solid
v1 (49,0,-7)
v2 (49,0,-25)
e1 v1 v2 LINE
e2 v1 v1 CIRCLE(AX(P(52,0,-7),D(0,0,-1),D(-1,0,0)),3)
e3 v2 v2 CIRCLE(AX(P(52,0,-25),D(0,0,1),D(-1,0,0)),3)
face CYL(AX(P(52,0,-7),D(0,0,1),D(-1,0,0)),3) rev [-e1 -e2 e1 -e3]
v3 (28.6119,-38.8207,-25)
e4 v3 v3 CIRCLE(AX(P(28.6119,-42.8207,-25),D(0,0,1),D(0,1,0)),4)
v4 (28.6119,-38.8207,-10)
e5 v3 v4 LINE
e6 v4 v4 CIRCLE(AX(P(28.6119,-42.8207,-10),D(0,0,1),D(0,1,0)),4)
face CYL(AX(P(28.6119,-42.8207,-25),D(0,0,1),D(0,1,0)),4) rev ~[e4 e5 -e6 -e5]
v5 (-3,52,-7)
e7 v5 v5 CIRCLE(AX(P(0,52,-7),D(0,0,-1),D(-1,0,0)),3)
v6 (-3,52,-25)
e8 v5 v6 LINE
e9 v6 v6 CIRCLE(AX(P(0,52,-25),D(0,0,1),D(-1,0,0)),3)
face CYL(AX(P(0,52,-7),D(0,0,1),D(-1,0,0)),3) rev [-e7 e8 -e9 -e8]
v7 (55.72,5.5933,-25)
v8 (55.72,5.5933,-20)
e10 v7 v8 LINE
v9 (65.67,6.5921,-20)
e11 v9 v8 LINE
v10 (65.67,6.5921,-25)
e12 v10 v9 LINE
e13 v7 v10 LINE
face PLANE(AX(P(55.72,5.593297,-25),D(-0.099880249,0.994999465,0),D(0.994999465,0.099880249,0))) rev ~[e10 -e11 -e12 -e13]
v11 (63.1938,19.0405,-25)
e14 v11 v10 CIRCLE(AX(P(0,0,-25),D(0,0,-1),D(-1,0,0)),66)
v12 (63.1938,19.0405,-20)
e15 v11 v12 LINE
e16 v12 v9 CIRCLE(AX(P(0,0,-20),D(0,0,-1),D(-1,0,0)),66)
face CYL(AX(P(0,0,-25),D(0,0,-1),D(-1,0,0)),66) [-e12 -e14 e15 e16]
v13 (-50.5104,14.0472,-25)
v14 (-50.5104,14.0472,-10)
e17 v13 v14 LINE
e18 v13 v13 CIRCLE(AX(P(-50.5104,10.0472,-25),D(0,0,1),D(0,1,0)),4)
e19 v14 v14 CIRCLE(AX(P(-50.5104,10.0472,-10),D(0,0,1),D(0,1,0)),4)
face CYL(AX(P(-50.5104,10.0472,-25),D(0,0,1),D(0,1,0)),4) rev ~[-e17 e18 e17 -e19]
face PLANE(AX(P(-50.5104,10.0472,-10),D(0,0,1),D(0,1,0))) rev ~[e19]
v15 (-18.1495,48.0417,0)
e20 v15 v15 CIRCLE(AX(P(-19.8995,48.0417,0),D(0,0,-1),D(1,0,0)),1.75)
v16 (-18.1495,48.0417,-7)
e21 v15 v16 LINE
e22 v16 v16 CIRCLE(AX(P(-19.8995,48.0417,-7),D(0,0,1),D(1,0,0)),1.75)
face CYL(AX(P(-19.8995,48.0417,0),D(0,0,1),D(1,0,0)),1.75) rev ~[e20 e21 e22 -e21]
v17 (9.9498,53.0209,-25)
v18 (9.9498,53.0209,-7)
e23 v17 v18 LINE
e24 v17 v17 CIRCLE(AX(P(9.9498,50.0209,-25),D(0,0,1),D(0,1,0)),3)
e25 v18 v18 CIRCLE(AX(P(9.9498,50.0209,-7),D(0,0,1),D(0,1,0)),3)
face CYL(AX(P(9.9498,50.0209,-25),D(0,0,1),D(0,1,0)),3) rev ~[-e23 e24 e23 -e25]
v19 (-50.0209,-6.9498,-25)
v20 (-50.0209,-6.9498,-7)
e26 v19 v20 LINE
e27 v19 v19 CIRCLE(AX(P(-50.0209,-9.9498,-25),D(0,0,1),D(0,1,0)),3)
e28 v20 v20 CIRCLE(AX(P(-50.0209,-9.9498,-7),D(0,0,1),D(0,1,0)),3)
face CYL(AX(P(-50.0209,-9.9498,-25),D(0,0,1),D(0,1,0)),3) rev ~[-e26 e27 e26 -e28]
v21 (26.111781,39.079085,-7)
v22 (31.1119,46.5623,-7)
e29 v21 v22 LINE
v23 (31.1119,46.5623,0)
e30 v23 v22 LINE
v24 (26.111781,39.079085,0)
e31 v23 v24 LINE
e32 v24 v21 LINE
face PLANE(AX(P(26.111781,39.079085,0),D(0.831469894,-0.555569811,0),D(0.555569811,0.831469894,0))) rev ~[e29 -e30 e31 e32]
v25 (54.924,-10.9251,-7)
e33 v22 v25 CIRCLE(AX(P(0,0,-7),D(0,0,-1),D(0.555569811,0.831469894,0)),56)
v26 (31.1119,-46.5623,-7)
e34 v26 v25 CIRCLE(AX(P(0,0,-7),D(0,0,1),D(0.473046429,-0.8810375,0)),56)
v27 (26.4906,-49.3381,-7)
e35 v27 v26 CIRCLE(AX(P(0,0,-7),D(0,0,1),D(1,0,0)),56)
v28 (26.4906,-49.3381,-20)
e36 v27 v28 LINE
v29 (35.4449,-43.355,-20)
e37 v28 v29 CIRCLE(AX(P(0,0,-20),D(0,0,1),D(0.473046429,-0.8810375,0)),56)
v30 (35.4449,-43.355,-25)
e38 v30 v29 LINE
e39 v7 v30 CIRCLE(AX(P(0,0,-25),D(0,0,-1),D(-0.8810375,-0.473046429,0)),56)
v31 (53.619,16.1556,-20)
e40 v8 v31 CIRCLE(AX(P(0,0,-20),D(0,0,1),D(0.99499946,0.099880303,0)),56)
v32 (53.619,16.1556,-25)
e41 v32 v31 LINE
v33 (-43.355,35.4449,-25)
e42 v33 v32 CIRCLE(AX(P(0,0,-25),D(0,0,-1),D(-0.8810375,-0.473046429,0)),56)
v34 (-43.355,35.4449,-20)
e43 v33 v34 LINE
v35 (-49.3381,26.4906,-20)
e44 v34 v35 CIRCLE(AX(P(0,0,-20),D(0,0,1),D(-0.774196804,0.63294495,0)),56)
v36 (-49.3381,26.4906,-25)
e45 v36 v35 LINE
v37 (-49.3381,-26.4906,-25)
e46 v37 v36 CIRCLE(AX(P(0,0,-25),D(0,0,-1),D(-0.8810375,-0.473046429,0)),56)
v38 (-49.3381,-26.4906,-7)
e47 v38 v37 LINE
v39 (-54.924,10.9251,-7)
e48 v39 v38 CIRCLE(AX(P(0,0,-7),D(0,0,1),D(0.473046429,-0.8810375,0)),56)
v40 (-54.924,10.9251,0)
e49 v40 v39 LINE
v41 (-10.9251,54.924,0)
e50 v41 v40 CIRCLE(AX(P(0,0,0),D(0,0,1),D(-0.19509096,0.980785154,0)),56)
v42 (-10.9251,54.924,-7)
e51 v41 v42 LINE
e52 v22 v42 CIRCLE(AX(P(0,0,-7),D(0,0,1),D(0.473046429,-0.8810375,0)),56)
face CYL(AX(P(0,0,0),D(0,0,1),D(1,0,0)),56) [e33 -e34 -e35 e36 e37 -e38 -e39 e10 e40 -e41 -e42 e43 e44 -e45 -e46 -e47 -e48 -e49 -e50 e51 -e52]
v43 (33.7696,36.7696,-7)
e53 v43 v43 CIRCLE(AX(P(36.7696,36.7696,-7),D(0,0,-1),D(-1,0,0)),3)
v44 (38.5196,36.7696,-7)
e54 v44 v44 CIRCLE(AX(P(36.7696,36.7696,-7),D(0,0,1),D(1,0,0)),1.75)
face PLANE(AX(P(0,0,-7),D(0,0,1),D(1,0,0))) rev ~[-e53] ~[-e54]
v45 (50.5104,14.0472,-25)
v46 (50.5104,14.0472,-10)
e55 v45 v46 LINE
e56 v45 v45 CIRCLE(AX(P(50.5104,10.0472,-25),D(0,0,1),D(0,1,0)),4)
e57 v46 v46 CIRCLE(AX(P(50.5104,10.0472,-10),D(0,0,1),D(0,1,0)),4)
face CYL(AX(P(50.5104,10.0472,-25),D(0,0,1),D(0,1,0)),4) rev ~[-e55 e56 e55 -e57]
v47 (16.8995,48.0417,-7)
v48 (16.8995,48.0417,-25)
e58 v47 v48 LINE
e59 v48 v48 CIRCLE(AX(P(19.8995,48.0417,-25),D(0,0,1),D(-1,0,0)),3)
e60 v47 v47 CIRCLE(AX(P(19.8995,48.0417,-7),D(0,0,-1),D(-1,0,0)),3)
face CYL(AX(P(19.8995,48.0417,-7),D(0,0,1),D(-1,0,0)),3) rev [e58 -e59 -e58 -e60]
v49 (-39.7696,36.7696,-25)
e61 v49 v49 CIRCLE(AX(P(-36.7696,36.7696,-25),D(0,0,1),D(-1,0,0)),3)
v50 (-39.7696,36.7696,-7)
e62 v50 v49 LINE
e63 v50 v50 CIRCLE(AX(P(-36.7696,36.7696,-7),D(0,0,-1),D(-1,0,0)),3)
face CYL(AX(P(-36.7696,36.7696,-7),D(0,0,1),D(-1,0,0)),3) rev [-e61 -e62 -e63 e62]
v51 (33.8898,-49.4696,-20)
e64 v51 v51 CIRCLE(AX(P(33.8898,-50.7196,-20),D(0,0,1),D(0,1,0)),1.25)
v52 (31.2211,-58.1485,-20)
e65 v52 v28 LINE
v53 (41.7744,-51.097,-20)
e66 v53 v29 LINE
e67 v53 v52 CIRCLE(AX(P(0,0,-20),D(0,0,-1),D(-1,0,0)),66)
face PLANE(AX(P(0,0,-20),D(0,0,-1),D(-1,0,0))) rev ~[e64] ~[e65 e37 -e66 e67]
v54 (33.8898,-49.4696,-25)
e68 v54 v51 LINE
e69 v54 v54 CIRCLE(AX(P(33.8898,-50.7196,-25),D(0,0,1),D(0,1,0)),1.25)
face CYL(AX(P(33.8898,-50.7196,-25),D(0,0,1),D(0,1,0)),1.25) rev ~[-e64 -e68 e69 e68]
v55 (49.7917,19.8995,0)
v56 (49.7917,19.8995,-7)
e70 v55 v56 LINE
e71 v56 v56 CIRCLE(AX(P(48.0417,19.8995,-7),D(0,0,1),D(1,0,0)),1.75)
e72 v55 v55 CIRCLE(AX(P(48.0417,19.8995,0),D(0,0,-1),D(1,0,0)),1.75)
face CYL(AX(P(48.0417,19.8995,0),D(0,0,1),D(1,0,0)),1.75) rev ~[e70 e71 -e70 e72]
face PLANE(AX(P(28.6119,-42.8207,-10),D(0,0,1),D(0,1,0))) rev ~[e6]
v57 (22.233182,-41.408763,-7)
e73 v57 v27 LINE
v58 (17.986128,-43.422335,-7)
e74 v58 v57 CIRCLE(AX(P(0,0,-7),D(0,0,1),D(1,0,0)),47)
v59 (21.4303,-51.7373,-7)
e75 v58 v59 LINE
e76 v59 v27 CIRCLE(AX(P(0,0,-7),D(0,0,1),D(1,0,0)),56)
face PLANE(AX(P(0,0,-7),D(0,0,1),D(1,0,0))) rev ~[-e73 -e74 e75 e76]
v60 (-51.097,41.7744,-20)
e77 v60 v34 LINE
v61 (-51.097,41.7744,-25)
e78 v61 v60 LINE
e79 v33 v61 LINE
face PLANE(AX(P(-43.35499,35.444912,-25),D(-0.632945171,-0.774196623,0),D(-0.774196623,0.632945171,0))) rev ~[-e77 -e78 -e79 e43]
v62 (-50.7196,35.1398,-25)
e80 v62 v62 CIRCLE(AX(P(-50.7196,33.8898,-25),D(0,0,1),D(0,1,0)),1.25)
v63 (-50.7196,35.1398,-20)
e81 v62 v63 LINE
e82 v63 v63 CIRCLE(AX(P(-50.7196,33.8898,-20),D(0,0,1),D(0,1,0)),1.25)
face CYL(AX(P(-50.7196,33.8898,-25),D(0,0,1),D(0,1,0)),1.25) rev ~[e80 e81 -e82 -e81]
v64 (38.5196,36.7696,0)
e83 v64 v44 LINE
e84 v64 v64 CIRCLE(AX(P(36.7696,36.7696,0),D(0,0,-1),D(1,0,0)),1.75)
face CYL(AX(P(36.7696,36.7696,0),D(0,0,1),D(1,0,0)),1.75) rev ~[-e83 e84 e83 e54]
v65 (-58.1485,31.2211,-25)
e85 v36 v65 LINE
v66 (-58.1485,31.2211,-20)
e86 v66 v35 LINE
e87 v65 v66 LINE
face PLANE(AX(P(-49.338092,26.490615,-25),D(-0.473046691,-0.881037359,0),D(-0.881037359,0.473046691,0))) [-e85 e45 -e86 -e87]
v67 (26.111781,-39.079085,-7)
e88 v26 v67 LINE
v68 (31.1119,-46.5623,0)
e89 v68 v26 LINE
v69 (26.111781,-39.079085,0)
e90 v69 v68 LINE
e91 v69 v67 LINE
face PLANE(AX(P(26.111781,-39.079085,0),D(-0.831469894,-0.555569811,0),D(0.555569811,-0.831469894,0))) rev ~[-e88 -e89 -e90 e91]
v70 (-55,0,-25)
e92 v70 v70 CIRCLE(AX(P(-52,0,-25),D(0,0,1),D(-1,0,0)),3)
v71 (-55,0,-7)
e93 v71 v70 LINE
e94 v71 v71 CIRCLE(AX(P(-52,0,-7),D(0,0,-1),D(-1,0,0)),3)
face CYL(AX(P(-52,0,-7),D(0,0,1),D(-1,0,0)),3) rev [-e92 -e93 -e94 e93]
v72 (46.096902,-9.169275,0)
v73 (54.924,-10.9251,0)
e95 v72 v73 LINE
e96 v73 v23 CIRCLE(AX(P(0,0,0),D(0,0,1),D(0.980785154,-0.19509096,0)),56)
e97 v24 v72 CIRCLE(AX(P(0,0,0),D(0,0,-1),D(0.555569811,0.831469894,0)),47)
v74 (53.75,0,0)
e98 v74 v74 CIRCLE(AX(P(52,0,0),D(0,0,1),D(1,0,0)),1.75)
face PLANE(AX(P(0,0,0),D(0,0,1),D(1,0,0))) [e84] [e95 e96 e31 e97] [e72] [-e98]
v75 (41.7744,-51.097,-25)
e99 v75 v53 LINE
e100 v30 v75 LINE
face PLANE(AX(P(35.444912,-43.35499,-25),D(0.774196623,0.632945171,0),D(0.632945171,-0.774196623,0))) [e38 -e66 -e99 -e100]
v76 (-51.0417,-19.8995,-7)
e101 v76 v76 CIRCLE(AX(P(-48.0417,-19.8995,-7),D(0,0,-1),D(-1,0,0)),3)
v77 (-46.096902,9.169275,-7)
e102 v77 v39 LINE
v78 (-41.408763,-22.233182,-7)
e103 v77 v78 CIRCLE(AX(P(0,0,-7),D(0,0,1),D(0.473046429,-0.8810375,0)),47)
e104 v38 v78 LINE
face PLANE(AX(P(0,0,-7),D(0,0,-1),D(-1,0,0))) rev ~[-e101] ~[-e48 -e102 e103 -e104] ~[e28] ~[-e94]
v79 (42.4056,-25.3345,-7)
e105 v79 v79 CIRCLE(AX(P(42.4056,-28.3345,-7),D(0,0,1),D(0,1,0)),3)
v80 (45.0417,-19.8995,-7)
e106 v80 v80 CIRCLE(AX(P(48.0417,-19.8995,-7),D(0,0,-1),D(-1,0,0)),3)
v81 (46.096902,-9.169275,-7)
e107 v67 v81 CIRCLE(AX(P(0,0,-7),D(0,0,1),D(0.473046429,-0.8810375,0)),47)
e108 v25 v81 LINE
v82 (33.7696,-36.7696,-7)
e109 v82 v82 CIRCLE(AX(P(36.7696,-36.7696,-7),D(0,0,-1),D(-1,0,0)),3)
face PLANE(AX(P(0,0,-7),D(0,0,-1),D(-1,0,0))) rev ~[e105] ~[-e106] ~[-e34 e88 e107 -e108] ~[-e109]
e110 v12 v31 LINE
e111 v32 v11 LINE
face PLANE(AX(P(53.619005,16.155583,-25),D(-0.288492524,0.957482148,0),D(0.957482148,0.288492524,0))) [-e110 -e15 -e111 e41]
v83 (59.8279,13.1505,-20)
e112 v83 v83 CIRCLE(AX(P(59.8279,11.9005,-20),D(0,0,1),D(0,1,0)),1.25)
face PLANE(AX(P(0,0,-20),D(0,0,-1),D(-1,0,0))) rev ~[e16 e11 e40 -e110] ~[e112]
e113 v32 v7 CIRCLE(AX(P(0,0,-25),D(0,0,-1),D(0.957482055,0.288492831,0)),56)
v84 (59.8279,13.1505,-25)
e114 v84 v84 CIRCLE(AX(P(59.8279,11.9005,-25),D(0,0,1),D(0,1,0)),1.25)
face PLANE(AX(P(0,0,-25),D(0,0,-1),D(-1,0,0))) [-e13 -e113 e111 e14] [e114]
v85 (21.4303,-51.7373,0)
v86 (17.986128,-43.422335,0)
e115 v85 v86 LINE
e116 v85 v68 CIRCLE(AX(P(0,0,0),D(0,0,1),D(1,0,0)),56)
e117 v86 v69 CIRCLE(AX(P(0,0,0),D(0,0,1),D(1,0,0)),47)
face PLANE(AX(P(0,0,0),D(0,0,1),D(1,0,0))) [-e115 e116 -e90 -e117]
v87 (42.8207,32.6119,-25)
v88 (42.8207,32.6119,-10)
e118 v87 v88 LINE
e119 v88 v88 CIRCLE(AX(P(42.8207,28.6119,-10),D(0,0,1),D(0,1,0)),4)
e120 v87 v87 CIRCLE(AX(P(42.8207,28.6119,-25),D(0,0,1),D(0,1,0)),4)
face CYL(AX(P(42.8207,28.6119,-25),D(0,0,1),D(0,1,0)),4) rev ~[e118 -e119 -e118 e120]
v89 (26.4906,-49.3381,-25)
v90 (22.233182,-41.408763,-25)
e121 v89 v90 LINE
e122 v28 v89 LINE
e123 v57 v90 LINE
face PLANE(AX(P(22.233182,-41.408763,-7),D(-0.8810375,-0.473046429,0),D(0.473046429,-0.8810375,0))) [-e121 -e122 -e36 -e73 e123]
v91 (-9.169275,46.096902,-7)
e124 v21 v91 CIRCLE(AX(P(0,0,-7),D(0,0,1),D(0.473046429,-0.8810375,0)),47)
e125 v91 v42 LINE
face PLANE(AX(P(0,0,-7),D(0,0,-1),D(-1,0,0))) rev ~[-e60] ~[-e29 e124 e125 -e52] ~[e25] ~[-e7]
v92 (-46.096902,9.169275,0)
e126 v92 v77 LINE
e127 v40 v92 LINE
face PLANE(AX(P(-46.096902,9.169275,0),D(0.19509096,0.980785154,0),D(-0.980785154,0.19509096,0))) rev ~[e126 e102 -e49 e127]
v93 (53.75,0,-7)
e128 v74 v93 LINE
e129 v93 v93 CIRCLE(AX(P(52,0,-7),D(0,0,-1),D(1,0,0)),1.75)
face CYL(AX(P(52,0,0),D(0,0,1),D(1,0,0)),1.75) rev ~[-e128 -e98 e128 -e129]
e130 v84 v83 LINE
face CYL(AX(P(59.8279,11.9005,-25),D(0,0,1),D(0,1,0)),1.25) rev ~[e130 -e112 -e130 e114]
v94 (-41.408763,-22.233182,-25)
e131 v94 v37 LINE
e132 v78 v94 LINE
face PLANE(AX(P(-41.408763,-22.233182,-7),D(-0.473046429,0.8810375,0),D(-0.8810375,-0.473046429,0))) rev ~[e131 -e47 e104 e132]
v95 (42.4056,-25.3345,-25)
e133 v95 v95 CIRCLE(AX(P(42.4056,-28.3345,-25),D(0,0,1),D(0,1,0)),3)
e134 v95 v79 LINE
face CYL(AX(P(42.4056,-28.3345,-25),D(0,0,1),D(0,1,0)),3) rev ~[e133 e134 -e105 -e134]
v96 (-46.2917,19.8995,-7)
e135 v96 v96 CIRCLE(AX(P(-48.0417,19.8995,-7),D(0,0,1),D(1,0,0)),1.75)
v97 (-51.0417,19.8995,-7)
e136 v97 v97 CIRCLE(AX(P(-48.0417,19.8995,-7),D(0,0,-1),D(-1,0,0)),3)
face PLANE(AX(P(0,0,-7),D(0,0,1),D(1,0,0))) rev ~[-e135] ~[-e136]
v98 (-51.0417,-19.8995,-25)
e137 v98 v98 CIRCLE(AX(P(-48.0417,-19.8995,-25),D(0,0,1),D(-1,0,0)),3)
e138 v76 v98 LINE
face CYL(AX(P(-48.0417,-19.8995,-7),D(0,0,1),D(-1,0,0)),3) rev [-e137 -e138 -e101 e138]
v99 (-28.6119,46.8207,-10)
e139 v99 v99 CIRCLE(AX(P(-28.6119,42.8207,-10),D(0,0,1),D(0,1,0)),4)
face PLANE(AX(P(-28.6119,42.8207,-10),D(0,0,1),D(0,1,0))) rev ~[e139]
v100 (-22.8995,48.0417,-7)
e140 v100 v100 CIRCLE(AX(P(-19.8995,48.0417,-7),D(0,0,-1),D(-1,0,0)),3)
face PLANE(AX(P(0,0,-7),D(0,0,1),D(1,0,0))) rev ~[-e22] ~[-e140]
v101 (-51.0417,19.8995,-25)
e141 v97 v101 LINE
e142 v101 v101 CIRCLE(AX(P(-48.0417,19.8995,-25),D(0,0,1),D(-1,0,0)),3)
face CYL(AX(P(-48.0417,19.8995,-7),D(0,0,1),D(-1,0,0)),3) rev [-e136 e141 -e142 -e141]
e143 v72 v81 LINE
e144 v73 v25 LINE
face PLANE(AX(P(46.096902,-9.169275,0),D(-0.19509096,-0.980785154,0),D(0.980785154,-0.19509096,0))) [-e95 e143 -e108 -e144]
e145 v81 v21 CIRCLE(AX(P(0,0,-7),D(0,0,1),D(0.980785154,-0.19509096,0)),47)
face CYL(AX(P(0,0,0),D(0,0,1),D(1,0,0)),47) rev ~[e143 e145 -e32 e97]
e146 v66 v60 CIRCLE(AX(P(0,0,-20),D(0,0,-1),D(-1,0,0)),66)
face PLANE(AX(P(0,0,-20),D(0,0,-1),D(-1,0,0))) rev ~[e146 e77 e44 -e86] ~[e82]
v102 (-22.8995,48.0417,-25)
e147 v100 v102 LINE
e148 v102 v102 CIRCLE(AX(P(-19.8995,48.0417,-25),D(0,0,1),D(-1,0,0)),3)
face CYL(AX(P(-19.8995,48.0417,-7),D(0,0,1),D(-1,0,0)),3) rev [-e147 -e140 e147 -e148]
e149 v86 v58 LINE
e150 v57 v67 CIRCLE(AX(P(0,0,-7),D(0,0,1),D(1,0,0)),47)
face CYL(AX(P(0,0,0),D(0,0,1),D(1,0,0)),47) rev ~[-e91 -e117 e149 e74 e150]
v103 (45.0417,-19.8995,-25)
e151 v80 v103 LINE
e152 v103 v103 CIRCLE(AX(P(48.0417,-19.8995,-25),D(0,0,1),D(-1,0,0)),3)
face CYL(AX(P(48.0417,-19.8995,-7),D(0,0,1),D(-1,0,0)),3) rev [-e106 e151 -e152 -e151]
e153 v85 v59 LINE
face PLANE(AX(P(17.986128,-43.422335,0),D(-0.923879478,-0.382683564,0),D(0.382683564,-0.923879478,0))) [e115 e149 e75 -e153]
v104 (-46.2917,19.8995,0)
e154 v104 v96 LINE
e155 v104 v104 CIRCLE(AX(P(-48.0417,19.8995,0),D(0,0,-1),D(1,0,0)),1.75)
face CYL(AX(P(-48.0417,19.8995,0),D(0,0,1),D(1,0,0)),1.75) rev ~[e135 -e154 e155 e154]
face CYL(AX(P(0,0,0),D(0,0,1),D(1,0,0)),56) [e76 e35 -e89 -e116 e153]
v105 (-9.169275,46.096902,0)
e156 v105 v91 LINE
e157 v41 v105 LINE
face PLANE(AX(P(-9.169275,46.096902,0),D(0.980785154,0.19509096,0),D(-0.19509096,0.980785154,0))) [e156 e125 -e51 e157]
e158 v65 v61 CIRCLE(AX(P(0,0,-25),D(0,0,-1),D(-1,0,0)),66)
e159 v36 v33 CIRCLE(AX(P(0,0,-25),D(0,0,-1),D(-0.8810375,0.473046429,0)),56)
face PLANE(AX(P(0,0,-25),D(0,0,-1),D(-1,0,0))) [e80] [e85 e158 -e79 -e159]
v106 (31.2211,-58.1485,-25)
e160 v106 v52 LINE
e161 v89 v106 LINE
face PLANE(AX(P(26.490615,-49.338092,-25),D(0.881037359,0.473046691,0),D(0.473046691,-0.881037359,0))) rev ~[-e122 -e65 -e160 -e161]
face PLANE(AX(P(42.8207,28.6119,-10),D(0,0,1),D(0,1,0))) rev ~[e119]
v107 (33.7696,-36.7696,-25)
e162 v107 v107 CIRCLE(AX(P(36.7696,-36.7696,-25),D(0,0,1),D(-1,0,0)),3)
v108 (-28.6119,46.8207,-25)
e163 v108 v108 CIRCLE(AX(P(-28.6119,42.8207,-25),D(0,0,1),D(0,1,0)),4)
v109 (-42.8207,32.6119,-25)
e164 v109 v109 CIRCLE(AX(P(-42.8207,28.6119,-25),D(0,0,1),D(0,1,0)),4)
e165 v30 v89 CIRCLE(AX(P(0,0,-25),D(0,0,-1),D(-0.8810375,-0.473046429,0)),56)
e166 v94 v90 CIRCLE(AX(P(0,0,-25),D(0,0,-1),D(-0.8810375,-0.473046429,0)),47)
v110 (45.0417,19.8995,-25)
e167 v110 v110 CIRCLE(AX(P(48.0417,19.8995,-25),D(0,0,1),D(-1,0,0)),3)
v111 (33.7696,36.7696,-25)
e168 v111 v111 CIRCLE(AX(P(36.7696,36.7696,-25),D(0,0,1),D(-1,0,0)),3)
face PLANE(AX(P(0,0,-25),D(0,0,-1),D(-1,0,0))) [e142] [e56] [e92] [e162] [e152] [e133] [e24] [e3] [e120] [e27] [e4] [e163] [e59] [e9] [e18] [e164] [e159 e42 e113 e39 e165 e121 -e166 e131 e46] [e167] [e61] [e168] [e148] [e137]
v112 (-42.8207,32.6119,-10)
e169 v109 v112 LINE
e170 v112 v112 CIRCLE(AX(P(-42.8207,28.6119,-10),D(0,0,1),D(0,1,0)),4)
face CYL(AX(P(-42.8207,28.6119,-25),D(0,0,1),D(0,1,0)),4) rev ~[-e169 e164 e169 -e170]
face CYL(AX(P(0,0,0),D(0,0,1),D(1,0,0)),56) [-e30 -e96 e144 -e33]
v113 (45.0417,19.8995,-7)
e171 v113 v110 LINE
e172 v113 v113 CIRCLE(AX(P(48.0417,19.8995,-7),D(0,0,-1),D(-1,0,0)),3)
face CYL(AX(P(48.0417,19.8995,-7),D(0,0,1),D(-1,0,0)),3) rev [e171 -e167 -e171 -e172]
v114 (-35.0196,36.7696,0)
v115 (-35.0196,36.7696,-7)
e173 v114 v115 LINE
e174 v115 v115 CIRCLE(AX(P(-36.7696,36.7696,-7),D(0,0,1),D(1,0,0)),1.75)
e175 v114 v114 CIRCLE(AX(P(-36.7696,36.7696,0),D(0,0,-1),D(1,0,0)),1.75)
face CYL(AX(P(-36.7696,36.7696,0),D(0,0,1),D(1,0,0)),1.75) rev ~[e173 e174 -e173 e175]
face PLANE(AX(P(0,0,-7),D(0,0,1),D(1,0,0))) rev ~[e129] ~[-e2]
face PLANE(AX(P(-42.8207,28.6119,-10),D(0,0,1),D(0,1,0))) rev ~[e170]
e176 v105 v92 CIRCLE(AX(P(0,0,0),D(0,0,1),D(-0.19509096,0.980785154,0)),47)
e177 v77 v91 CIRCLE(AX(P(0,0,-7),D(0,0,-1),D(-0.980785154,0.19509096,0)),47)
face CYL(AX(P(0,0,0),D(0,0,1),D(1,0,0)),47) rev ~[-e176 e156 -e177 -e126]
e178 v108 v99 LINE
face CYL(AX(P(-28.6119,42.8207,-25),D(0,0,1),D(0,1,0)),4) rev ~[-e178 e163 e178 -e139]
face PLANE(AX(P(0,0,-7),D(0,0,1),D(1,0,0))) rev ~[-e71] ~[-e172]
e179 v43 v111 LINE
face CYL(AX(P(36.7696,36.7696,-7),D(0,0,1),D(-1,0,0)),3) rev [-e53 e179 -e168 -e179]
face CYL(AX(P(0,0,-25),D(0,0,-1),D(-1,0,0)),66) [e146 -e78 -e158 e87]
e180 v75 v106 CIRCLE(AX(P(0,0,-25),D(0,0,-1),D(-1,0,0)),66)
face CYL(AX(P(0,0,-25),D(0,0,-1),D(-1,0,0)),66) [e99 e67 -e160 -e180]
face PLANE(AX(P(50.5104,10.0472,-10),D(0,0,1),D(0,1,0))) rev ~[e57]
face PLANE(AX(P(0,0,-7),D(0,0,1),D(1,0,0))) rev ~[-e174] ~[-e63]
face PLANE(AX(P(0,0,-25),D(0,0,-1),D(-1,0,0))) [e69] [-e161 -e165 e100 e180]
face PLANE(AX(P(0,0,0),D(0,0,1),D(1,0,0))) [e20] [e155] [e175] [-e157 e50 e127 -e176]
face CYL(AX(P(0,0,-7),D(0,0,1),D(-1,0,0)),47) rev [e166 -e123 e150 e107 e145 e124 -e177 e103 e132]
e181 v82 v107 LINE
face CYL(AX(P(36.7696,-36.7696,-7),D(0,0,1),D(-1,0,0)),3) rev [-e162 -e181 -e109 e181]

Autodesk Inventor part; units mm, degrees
ref_plane "YZ Plane" through (0, 0, 0) normal (1, 0, 0) x (0, 1, 0)
ref_plane "XZ Plane" through (0, 0, 0) normal (0, 1, 0) x (-1, 0, 0)
ref_plane "XY Plane" through (0, 0, 0) normal (0, 0, 1) x (1, 0, 0)
sketch "Skizze2" plane through (0, 0, 0) normal (0, 0, 1) x (1, 0, 0)
  circle A0 centre (0, 0) radius 47
  circle A1 centre (0, 0) radius 56
  circle A2 centre (0, 0) radius 52
  circle A3 centre (0, 52) radius 1.75
  circle A4 centre (-19.8995, 48.0417) radius 1.75
  circle A5 centre (-36.7696, 36.7696) radius 1.75
  circle A6 centre (-48.0417, 19.8995) radius 1.75
  circle A7 centre (-52, 0) radius 1.75
  circle A8 centre (-48.0417, -19.8995) radius 1.75
  circle A9 centre (-36.7696, -36.7696) radius 1.75
  circle A10 centre (-19.8995, -48.0417) radius 1.75
  circle A11 centre (0, -52) radius 1.75
  circle A12 centre (19.8995, -48.0417) radius 1.75
  circle A13 centre (36.7696, -36.7696) radius 1.75
  circle A14 centre (48.0417, -19.8995) radius 1.75
  circle A15 centre (52, 0) radius 1.75
  circle A16 centre (48.0417, 19.8995) radius 1.75
  circle A17 centre (36.7696, 36.7696) radius 1.75
  circle A18 centre (19.8995, 48.0417) radius 1.75
  line L0 (0, 0) -> (0, 56)
  line L1 (0, 0) -> (-10.9251, 54.924)
  line L2 (0, 0) -> (-21.4303, 51.7373)
  line L3 (0, 0) -> (-31.1119, 46.5623)
  line L4 (0, 0) -> (-39.598, 39.598)
  line L5 (0, 0) -> (-46.5623, 31.1119)
  line L6 (0, 0) -> (-51.7373, 21.4303)
  line L7 (0, 0) -> (-54.924, 10.9251)
  line L8 (0, 0) -> (-56, 0)
  line L9 (0, 0) -> (-54.924, -10.9251)
  line L10 (0, 0) -> (-51.7373, -21.4303)
  line L11 (0, 0) -> (-46.5623, -31.1119)
  line L12 (0, 0) -> (-39.598, -39.598)
  line L13 (0, 0) -> (-31.1119, -46.5623)
  line L14 (0, 0) -> (-21.4303, -51.7373)
  line L15 (0, 0) -> (-10.9251, -54.924)
  line L16 (0, 0) -> (0, -56)
  line L17 (0, 0) -> (10.9251, -54.924)
  line L18 (0, 0) -> (21.4303, -51.7373)
  line L19 (0, 0) -> (31.1119, -46.5623)
  line L20 (0, 0) -> (39.598, -39.598)
  line L21 (0, 0) -> (46.5623, -31.1119)
  line L22 (0, 0) -> (51.7373, -21.4303)
  line L23 (0, 0) -> (54.924, -10.9251)
  line L24 (0, 0) -> (56, 0)
  line L25 (0, 0) -> (54.924, 10.9251)
  line L26 (0, 0) -> (51.7373, 21.4303)
  line L27 (0, 0) -> (46.5623, 31.1119)
  line L28 (0, 0) -> (39.598, 39.598)
  line L29 (0, 0) -> (31.1119, 46.5623)
  line L30 (0, 0) -> (21.4303, 51.7373)
  line L31 (0, 0) -> (10.9251, 54.924)
  point P0 (26.1118, 39.0791)
  point P1 (46.0969, -9.1692)
  point P2 (-9.1692, 46.0969)
  point P3 (-46.0969, 9.1692)
  point P4 (9.1692, -46.0969)
  point P5 (-26.1118, -39.0791)
  point P6 (26.1118, -39.0791)
  point P7 (17.9861, -43.4223)
  dimension "d5" = 112
  dimension "d6" = 104
  dimension "d4" = 94
  dimension "d8" = 3.5
  dimension "d11" = 360
  dimension "d15" = 360
extrude "Extrusion2" add sketch "Skizze2" against normal blind 7 contours L24 A15 A2 L23 A0 | A0 L25 A2 A15 L24 | A0 L26 A16 A2 L25 | A0 L27 A2 A16 L26 | L25 A1 L24 A15 A2 | A2 A16 L26 A1 L25 | A2 A15 L24 A1 L23 | A0 L2 A4 A2 L1 | A0 L3 A2 A4 L2 | A0 L4 A5 A2 L3 | A0 L5 A2 A5 L4 | A0 L6 A6 A2 L5 | A0 L7 A2 A6 L6 | A0 L19 A2 A12 L18 | A0 L28 A17 A2 L27 | A0 L29 A2 A17 L28 | A2 A4 L2 A1 L1 | L3 A1 L2 A4 A2 | A2 A5 L4 A1 L3 | L5 A1 L4 A5 A2 | A2 A6 L6 A1 L5 | L7 A1 L6 A6 A2 | A12 A2 L18 | L19 A1 L18 A12 A2 | L27 A1 L26 A16 A2 | A2 A17 L28 A1 L27 | L29 A1 L28 A17 A2 | A12 L18 A2 picked at (19.9797, -47.3914) picked at (20.4216, -48.4382)
sketch "Skizze4" plane through (0, 0, -7) normal (0, 0, -1) x (-1, 0, 0)
  circle A0 centre (0, 0) radius 47
  circle A1 centre (0, 0) radius 56
  circle A2 centre (0, 0) radius 52
  circle A3 centre (0, 52) radius 3
  circle A4 centre (-19.8995, 48.0417) radius 3
  circle A5 centre (-36.7696, 36.7696) radius 3
  circle A6 centre (-48.0417, 19.8995) radius 3
  circle A7 centre (-52, 0) radius 3
  circle A8 centre (-48.0417, -19.8995) radius 3
  circle A9 centre (-36.7696, -36.7696) radius 3
  circle A10 centre (-19.8995, -48.0417) radius 3
  circle A11 centre (0, -52) radius 3
  circle A12 centre (19.8995, -48.0417) radius 3
  circle A13 centre (36.7696, -36.7696) radius 3
  circle A14 centre (48.0417, -19.8995) radius 3
  circle A15 centre (52, 0) radius 3
  circle A16 centre (48.0417, 19.8995) radius 3
  circle A17 centre (36.7696, 36.7696) radius 3
  circle A18 centre (19.8995, 48.0417) radius 3
  circle A19 centre (0, -52) radius 3.5
  circle A20 centre (19.8995, -48.0417) radius 3.5
  line L0 (0, 0) -> (-3.7692, -55.873)
  line L1 (0, 0) -> (24.864, -50.1775)
  line L2 (-54.924, -10.9251) -> (-46.0969, -9.1692) projected
  line L3 (0, 0) -> (-54.924, -10.9251)
  line L4 (46.0969, 9.1692) -> (54.924, 10.9251) projected
  line L5 (0, 0) -> (54.924, 10.9251)
  circle A21 centre (0, 0) radius 49
  line L6 (-26.1118, 39.0791) -> (-31.1119, 46.5623) projected
  line L7 (0, 0) -> (-31.1119, 46.5623)
  line L8 (10.9251, 54.924) -> (9.1692, 46.0969) projected
  line L9 (0, 0) -> (10.9251, 54.924)
  circle A22 centre (0, 52) radius 4
  circle A23 centre (-10.1447, 51.0008) radius 4
  circle A24 centre (-19.8995, 48.0417) radius 4
  circle A25 centre (-28.8897, 43.2364) radius 4
  circle A26 centre (-36.7696, 36.7696) radius 4
  circle A27 centre (-43.2364, 28.8897) radius 4
  circle A28 centre (-48.0417, 19.8995) radius 4
  circle A29 centre (-51.0008, 10.1447) radius 4
  circle A30 centre (-52, 0) radius 4
  circle A31 centre (-51.0008, -10.1447) radius 4
  circle A32 centre (-48.0417, -19.8995) radius 4
  circle A33 centre (-43.2364, -28.8897) radius 4
  circle A34 centre (-36.7696, -36.7696) radius 4
  circle A35 centre (-28.8897, -43.2364) radius 4
  circle A36 centre (-19.8995, -48.0417) radius 4
  circle A37 centre (-10.1447, -51.0008) radius 4
  circle A38 centre (0, -52) radius 4
  circle A39 centre (10.1447, -51.0008) radius 4
  circle A40 centre (19.8995, -48.0417) radius 4
  circle A41 centre (28.8897, -43.2364) radius 4
  circle A42 centre (36.7696, -36.7696) radius 4
  circle A43 centre (43.2364, -28.8897) radius 4
  circle A44 centre (48.0417, -19.8995) radius 4
  circle A45 centre (51.0008, -10.1447) radius 4
  circle A46 centre (52, 0) radius 4
  circle A47 centre (51.0008, 10.1447) radius 4
  circle A48 centre (48.0417, 19.8995) radius 4
  circle A49 centre (43.2364, 28.8897) radius 4
  circle A50 centre (36.7696, 36.7696) radius 4
  circle A51 centre (28.8897, 43.2364) radius 4
  circle A52 centre (19.8995, 48.0417) radius 4
  circle A53 centre (10.1447, 51.0008) radius 4
  circle A54 centre (28.8897, 43.2364) radius 5 construction
  line L10 (0, 0) -> (26.4906, 49.3381)
  arc A55 (54.924, 10.9251) -> (10.9251, 54.924) centre (0, 0) ccw projected
  line L11 (0, 0) -> (35.4449, 43.355)
  line L12 (0, 0) -> (5.5933, 55.72)
  line L13 (0, 0) -> (16.1556, 53.619)
  line L14 (0, 0) -> (-16.1556, 53.619)
  line L15 (0, 0) -> (-5.5933, 55.72)
  line L16 (0, 0) -> (-35.4449, 43.355)
  line L17 (0, 0) -> (-26.4906, 49.3381)
  line L18 (0, 0) -> (-49.3381, 26.4906)
  line L19 (0, 0) -> (-43.355, 35.4449)
  line L20 (0, 0) -> (-55.72, 5.5933)
  line L21 (0, 0) -> (-53.619, 16.1556)
  line L22 (0, 0) -> (-53.619, -16.1556)
  line L23 (0, 0) -> (-55.72, -5.5933)
  line L24 (0, 0) -> (-43.355, -35.4449)
  line L25 (0, 0) -> (-49.3381, -26.4906)
  line L26 (0, 0) -> (-26.4906, -49.3381)
  line L27 (0, 0) -> (-35.4449, -43.355)
  line L28 (0, 0) -> (-5.5933, -55.72)
  line L29 (0, 0) -> (-16.1556, -53.619)
  line L30 (0, 0) -> (16.1556, -53.619)
  line L31 (0, 0) -> (5.5933, -55.72)
  line L32 (0, 0) -> (35.4449, -43.355)
  line L33 (0, 0) -> (26.4906, -49.3381)
  line L34 (0, 0) -> (49.3381, -26.4906)
  line L35 (0, 0) -> (43.355, -35.4449)
  line L36 (0, 0) -> (55.72, -5.5933)
  line L37 (0, 0) -> (53.619, -16.1556)
  line L38 (0, 0) -> (53.619, 16.1556)
  line L39 (0, 0) -> (55.72, 5.5933)
  line L40 (0, 0) -> (43.355, 35.4449)
  line L41 (0, 0) -> (49.3381, 26.4906)
  point P0 (21.756, -43.9053)
  point P1 (-3.2981, -48.8889)
  point P2 (-48.0585, -9.5594)
  point P3 (48.0585, 9.5594)
  point P4 (-46.765, 4.6944)
  point P5 (-45.0017, 13.5592)
  point P6 (-41.4087, 22.2332)
  point P7 (-36.3872, 29.7484)
  point P8 (13.5592, -45.0017)
  point P9 (4.6944, -46.765)
  point P10 (36.3872, 29.7484)
  point P11 (41.4087, 22.2332)
  point P12 (22.2332, 41.4087)
  point P13 (29.7484, 36.3872)
  point P14 (48.4591, 17.4346)
  point P15 (34.652, 38.0984)
  point P16 (17.4346, 48.4591)
  point P17 (-38.0984, 34.652)
  point P18 (-21.9376, 46.5939)
  point P19 (2.437, 51.4423)
  point P20 (-48.4591, 17.4346)
  point P21 (-51.4423, 2.437)
  point P22 (-13.5592, -45.0017)
  point P23 (-22.2332, -41.4087)
  point P24 (41.4087, -22.2332)
  dimension "d19" = 94
  dimension "d21" = 104
  dimension "d20" = 112
  dimension "d22" = 6
  dimension "d25" = 360
  dimension "d27" = 7
  dimension "d28" = 7
  dimension "d29" = 98
  dimension "d33" = 8
  dimension "d36" = 360
  dimension "d38" = 10
  dimension "d41" = 360
extrude "Extrusion4" add sketch "Skizze4" along normal blind 18 contours A0 L39 A21 A46 L36 | A0 L4 A47 A21 L39 | L36 A21 A45 L37 A0 | A0 L38 A21 A47 L4 | L39 A2 A46 A21 | A21 A47 A2 L39 | L37 A21 A44 L34 A0 | L36 A2 A45 A21 | A21 A46 A2 L36 | A0 L41 A21 A48 L38 | A47 A21 L4 | L4 A21 A47 | L2 A31 A21 L23 A0 | A0 L22 A21 A31 L2 | L6 A25 A21 L17 A0 | A0 L16 A21 A25 L6 | L8 A53 A21 L13 A0 | A0 L12 A21 A53 L8 | L10 A21 A51 L11 A0 | A0 L13 A21 A52 L10 | L11 A21 A50 L40 A0 | A0 L15 A21 A22 L12 | L14 A21 A23 L15 A0 | A0 L17 A21 A24 L14 | A0 L19 A21 A26 L16 | L18 A21 A27 L19 A0 | A0 L21 A21 A28 L18 | L20 A21 A29 L21 A0 | A0 L23 A21 A30 L20 | A0 L25 A21 A32 L22 | L24 A21 A33 L25 A0 | A0 L27 A21 A34 L24 | L26 A21 A35 L27 A0 | L40 A21 A49 L41 A0 | A46 A2 A15 A21 | A21 A46 | A21 L4 A2 A47 | L39 A1 A46 A2 | A2 A47 A1 L39 | L37 A2 A44 A21 | A21 A45 A2 L37 | A45 A2 A21 | A21 A45 | A21 A15 A2 A46 | L36 A1 A45 A2 | A2 A46 A1 L36 | L38 A2 A47 A21 | A21 A48 A2 L38 | A21 A47 A2 L4 | A31 A21 L2 | L2 A21 A31 | A25 A21 L6 | L6 A21 A25 | A53 A21 L8 | L8 A21 A53 | L10 A2 A51 A21 | A21 A52 A2 L10 | L11 A2 A50 A21 | A21 A51 A2 L11 | L12 A2 A53 A21 | A21 A22 A2 L12 | L13 A2 A52 A21 | A21 A53 A2 L13 | L14 A2 A23 A21 | A21 A24 A2 L14 | L15 A2 A22 A21 | A21 A23 A2 L15 | L16 A2 A25 A21 | A21 A26 A2 L16 | L17 A2 A24 A21 | A21 A25 A2 L17 | L18 A2 A27 A21 | A21 A28 A2 L18 | L19 A2 A26 A21 | A21 A27 A2 L19 | L20 A2 A29 A21 | A21 A30 A2 L20 | L21 A2 A28 A21 | A21 A29 A2 L21 | L22 A2 A31 A21 | A21 A32 A2 L22 | L23 A2 A30 A21 | A21 A31 A2 L23 | L24 A2 A33 A21 | A21 A34 A2 L24 | L25 A2 A32 A21 | A21 A33 A2 L25 | L26 A2 A35 A21 | L27 A2 A34 A21 | A21 A35 A2 L27 | A21 A44 A2 L34 | L40 A2 A49 A21 | A21 A50 A2 L40 | L41 A2 A48 A21 | A21 A49 A2 L41 | A46 A2 A15 | A2 L4 A47 | A44 A2 A14 A21 | A21 A44 | L37 A1 A44 A2 | A2 A45 A1 L37 | A45 A2 | A48 A21 | A21 A16 A2 A48 | L38 A1 A47 A2 | A2 A48 A1 L38 | A2 A47 L4 | A21 A31 A2 L2 | L2 A2 A31 A21 | L6 A2 A25 A21 | A21 A25 A2 L6 | L8 A2 A53 A21 | A21 A53 A2 L8 | A51 A2 A21 | A21 A51 | A52 A21 | A21 A18 A2 A52 | L10 A1 A51 A2 | A2 A52 A1 L10 | A50 A2 A17 A21 | A21 A50 | L11 A1 A50 A2 | A2 A51 A1 L11 | A22 A21 | A21 A3 A2 A22 | L12 A1 A53 A2 | A2 A22 A1 L12 | A52 A2 A18 A21 | L13 A1 A52 A2 | A2 A53 A1 L13 | A23 A2 A21 | A21 A23 | A24 A21 | A21 A4 A2 A24 | L14 A1 A23 A2 | A2 A24 A1 L14 | A22 A2 A3 A21 | L15 A1 A22 A2 | A2 A23 A1 L15 | A26 A21 | A21 A5 A2 A26 | L16 A1 A25 A2 | A2 A26 A1 L16 | A24 A2 A4 A21 | L17 A1 A24 A2 | A2 A25 A1 L17 | A27 A2 A21 | A21 A27 | A28 A21 | A21 A6 A2 A28 | L18 A1 A27 A2 | A2 A28 A1 L18 | A26 A2 A5 A21 | L19 A1 A26 A2 | A2 A27 A1 L19 | A29 A2 A21 | A21 A29 | A30 A21 | A21 A7 A2 A30 | L20 A1 A29 A2 | A2 A30 A1 L20 | A28 A2 A6 A21 | L21 A1 A28 A2 | A2 A29 A1 L21 | A32 A21 | A21 A8 A2 A32 | L22 A1 A31 A2 | A2 A32 A1 L22 | A30 A2 A7 A21 | L23 A1 A30 A2 | A2 A31 A1 L23 | A33 A2 A21 | A21 A33 | A34 A21 | A21 A9 A2 A34 | L24 A1 A33 A2 | A2 A34 A1 L24 | A32 A2 A8 A21 | L25 A1 A32 A2 | A2 A33 A1 L25 | A35 A2 A21 | A21 A35 | L26 A1 A35 A2 | A34 A2 A9 A21 | L27 A1 A34 A2 | A2 A35 A1 L27 | A21 A14 A2 A44 | A2 A44 A1 L34 | A49 A2 A21 | A21 A49 | A21 A17 A2 A50 | L40 A1 A49 A2 | A2 A50 A1 L40 | A48 A2 A16 A21 | L41 A1 A48 A2 | A2 A49 A1 L41 | A44 A2 A14 | A2 A16 A48 | L2 A31 A2 | A2 A31 L2 | L6 A25 A2 | A2 A25 L6 | L8 A53 A2 | A2 A53 L8 | A51 A2 | A2 A18 A52 | A50 A2 A17 | A2 A3 A22 | A23 A2 | A2 A4 A24 | A2 A5 A26 | A27 A2 | A2 A6 A28 | A29 A2 | A2 A7 A30 | A2 A8 A32 | A33 A2 | A2 A9 A34 | A35 A2 | A49 A2
sketch "Skizze5" plane through (0, 0, -25) normal (0, 0, -1) x (-1, 0, 0)
  circle A0 centre (0, 0) radius 51.5
  point P0 (0, 51.5)
  point P1 (-10.0472, 50.5104)
  point P2 (-19.7082, 47.5798)
  point P3 (-28.6119, 42.8207)
  point P4 (-36.416, 36.416)
  point P5 (-42.8207, 28.6119)
  point P6 (-47.5798, 19.7082)
  point P7 (-50.5104, 10.0472)
  point P8 (-51.5, 0)
  point P9 (-50.5104, -10.0472)
  point P10 (-47.5798, -19.7082)
  point P11 (-42.8207, -28.6119)
  point P12 (-36.416, -36.416)
  point P13 (-28.6119, -42.8207)
  point P14 (-19.7082, -47.5798)
  point P15 (-10.0472, -50.5104)
  point P16 (0, -51.5)
  point P17 (10.0472, -50.5104)
  point P18 (19.7082, -47.5798)
  point P19 (28.6119, -42.8207)
  point P20 (36.416, -36.416)
  point P21 (42.8207, -28.6119)
  point P22 (47.5798, -19.7082)
  point P23 (50.5104, -10.0472)
  point P24 (51.5, 0)
  point P25 (50.5104, 10.0472)
  point P26 (47.5798, 19.7082)
  point P27 (42.8207, 28.6119)
  point P28 (36.416, 36.416)
  point P29 (28.6119, 42.8207)
  point P30 (19.7082, 47.5798)
  point P31 (10.0472, 50.5104)
  dimension "d45" = 103
  dimension "d48" = 360
hole "Bohrung2" at (-28.6119, 42.8207, -25) at (-42.8207, 28.6119, -25) at (-10.0472, -50.5104, -25) at (50.5104, 10.0472, -25) at (42.8207, 28.6119, -25) at (28.6119, -42.8207, -25) at (-50.5104, 10.0472, -25) direction (0, 0, 1) diameter 8 depth 15
sketch "Skizze7" plane through (0, 0, -25) normal (0, 0, -1) x (-1, 0, 0)
  circle A0 centre (0, 0) radius 49
  circle A1 centre (0, 0) radius 56
  circle A2 centre (0, 0) radius 52
  circle A3 centre (0, 52) radius 2.5
  circle A4 centre (-19.8995, 48.0417) radius 2.5
  circle A5 centre (-36.7696, 36.7696) radius 2.5
  circle A6 centre (-48.0417, 19.8995) radius 2.5
  circle A7 centre (-52, 0) radius 2.5
  circle A8 centre (-48.0417, -19.8995) radius 2.5
  circle A9 centre (-36.7696, -36.7696) radius 2.5
  circle A10 centre (-19.8995, -48.0417) radius 2.5
  circle A11 centre (0, -52) radius 2.5
  circle A12 centre (19.8995, -48.0417) radius 2.5
  circle A13 centre (36.7696, -36.7696) radius 2.5
  circle A14 centre (48.0417, -19.8995) radius 2.5
  circle A15 centre (52, 0) radius 2.5
  circle A16 centre (48.0417, 19.8995) radius 2.5
  circle A17 centre (36.7696, 36.7696) radius 2.5
  circle A18 centre (19.8995, 48.0417) radius 2.5
  circle A19 centre (0, -52) radius 3.5
  circle A20 centre (19.8995, -48.0417) radius 3.5
  line L0 (0, 0) -> (-3.7692, -55.873)
  line L1 (0, 0) -> (24.864, -50.1775)
  line L2 (-54.924, -10.9251) -> (-48.0585, -9.5594)
  line L3 (0, 0) -> (-54.924, -10.9251)
  line L4 (48.0585, 9.5594) -> (54.924, 10.9251)
  line L5 (0, 0) -> (54.924, 10.9251)
  circle A21 centre (0, 0) radius 49
  line L6 (-27.2229, 40.742) -> (-31.1119, 46.5623)
  line L7 (0, 0) -> (-31.1119, 46.5623)
  line L8 (10.9251, 54.924) -> (9.5594, 48.0585)
  line L9 (0, 0) -> (10.9251, 54.924)
  circle A22 centre (0, 52) radius 2.5
  circle A23 centre (-10.1447, 51.0008) radius 2.5
  circle A24 centre (-19.8995, 48.0417) radius 2.5
  circle A25 centre (-28.8897, 43.2364) radius 2.5
  circle A26 centre (-36.7696, 36.7696) radius 2.5
  circle A27 centre (-43.2364, 28.8897) radius 2.5
  circle A28 centre (-48.0417, 19.8995) radius 2.5
  circle A29 centre (-51.0008, 10.1447) radius 2.5
  circle A30 centre (-52, 0) radius 2.5
  circle A31 centre (-51.0008, -10.1447) radius 2.5
  circle A32 centre (-48.0417, -19.8995) radius 2.5
  circle A33 centre (-43.2364, -28.8897) radius 2.5
  circle A34 centre (-36.7696, -36.7696) radius 2.5
  circle A35 centre (-28.8897, -43.2364) radius 2.5
  circle A36 centre (-19.8995, -48.0417) radius 2.5
  circle A37 centre (-10.1447, -51.0008) radius 2.5
  circle A38 centre (0, -52) radius 2.5
  circle A39 centre (10.1447, -51.0008) radius 2.5
  circle A40 centre (19.8995, -48.0417) radius 2.5
  circle A41 centre (28.8897, -43.2364) radius 2.5
  circle A42 centre (36.7696, -36.7696) radius 2.5
  circle A43 centre (43.2364, -28.8897) radius 2.5
  circle A44 centre (48.0417, -19.8995) radius 2.5
  circle A45 centre (51.0008, -10.1447) radius 2.5
  circle A46 centre (52, 0) radius 2.5
  circle A47 centre (51.0008, 10.1447) radius 2.5
  circle A48 centre (48.0417, 19.8995) radius 2.5
  circle A49 centre (43.2364, 28.8897) radius 2.5
  circle A50 centre (36.7696, 36.7696) radius 2.5
  circle A51 centre (28.8897, 43.2364) radius 2.5
  circle A52 centre (19.8995, 48.0417) radius 2.5
  circle A53 centre (10.1447, 51.0008) radius 2.5
  circle A54 centre (28.8897, 43.2364) radius 5 construction
  line L10 (0, 0) -> (26.4906, 49.3381)
  arc A55 (54.924, 10.9251) -> (10.9251, 54.924) centre (0, 0) ccw
  line L11 (0, 0) -> (35.4449, 43.355)
  line L12 (0, 0) -> (5.5933, 55.72)
  line L13 (0, 0) -> (16.1556, 53.619)
  line L14 (0, 0) -> (-16.1556, 53.619)
  line L15 (0, 0) -> (-5.5933, 55.72)
  line L16 (0, 0) -> (-35.4449, 43.355)
  line L17 (0, 0) -> (-26.4906, 49.3381)
  line L18 (0, 0) -> (-49.3381, 26.4906)
  line L19 (0, 0) -> (-43.355, 35.4449)
  line L20 (0, 0) -> (-55.72, 5.5933)
  line L21 (0, 0) -> (-53.619, 16.1556)
  line L22 (0, 0) -> (-53.619, -16.1556)
  line L23 (0, 0) -> (-55.72, -5.5933)
  line L24 (0, 0) -> (-43.355, -35.4449)
  line L25 (0, 0) -> (-49.3381, -26.4906)
  line L26 (0, 0) -> (-26.4906, -49.3381)
  line L27 (0, 0) -> (-35.4449, -43.355)
  line L28 (0, 0) -> (-5.5933, -55.72)
  line L29 (0, 0) -> (-16.1556, -53.619)
  line L30 (0, 0) -> (16.1556, -53.619)
  line L31 (0, 0) -> (5.5933, -55.72)
  line L32 (0, 0) -> (35.4449, -43.355)
  line L33 (0, 0) -> (26.4906, -49.3381)
  line L34 (0, 0) -> (49.3381, -26.4906)
  line L35 (0, 0) -> (43.355, -35.4449)
  line L36 (0, 0) -> (55.72, -5.5933)
  line L37 (0, 0) -> (53.619, -16.1556)
  line L38 (0, 0) -> (53.619, 16.1556)
  line L39 (0, 0) -> (55.72, 5.5933)
  line L40 (0, 0) -> (43.355, 35.4449)
  line L41 (0, 0) -> (49.3381, 26.4906)
  circle A56 centre (0, 0) radius 66
  line L42 (0, 0) -> (51.097, 41.7744)
  line L43 (0, 0) -> (58.1485, 31.2211)
  line L44 (0, 0) -> (6.5921, -65.67)
  line L45 (0, 0) -> (19.0405, -63.1938)
  line L46 (0, 0) -> (-63.1938, 19.0405)
  line L47 (0, 0) -> (-65.67, 6.5921)
  circle A57 centre (0, 0) radius 61
  line L48 (0, 0) -> (-59.8279, 11.9005)
  line L49 (0, 0) -> (50.7196, 33.8898)
  line L50 (0, 0) -> (11.9005, -59.8279)
  line L51 (0, 0) -> (-41.7744, -51.097)
  line L52 (0, 0) -> (-31.2211, -58.1485)
  line L53 (0, 0) -> (-33.8898, -50.7196)
  line L54 (-31.1119, -46.5623) -> (-26.1118, -39.0791) projected
  line L55 (52, 0) -> (48.0417, -19.8995)
  line L56 (0, 0) -> (51.0008, -10.1447)
  line L57 (0, 52) -> (-19.8995, 48.0417)
  line L58 (0, 0) -> (-10.1447, 51.0008)
  circle A58 centre (-48.0417, -19.8995) radius 3 projected
  line L59 (-48.0417, -19.8995) -> (-36.7696, -36.7696)
  line L60 (0, 0) -> (-43.2364, -28.8897)
  point P0 (21.756, -43.9053)
  point P1 (-3.2981, -48.8889)
  point P2 (-48.755, 4.8941)
  point P3 (-46.9166, 14.1361)
  point P4 (-43.1708, 23.1793)
  point P5 (-37.9356, 31.0143)
  point P6 (14.1361, -46.9166)
  point P7 (4.8941, -48.755)
  point P8 (37.9356, 31.0143)
  point P9 (43.1708, 23.1793)
  point P10 (23.1793, 43.1708)
  point P11 (31.0143, 37.9356)
  point P12 (45.2701, 18.7515)
  point P13 (34.6482, 34.6482)
  point P14 (18.7515, 45.2701)
  point P15 (-34.6482, 34.6482)
  point P16 (-18.7515, 45.2701)
  point P17 (0, 49)
  point P18 (-45.2701, 18.7515)
  point P19 (-49, 0)
  point P20 (50.0209, -9.9498)
  point P21 (-9.9498, 50.0209)
  point P22 (-42.4056, -28.3345)
  dimension "d74" = 112
  dimension "d93" = 132
  dimension "d73" = 98
  dimension "d75" = 104
  dimension "d76" = 5
  dimension "d77" = 360
  dimension "d78" = 7
  dimension "d79" = 7
  dimension "d80" = 98
  dimension "d81" = 5
  dimension "d82" = 360
  dimension "d83" = 10
  dimension "d84" = 360
  dimension "d96" = 122
extrude "Extrusion5" add sketch "Skizze7" against normal blind 5 contours L47 A57 L48 A1 | A1 L48 A57 L46 | L52 A57 L53 A1 | A1 L53 A57 L51 | L42 A57 L49 A1 | A1 L49 A57 L43 | L47 A56 L46 A57 | L52 A56 L51 A57 | L42 A56 L43 A57
hole "Bohrung3" at (-50.7196, 33.8898, -25) at (-11.9005, -59.8279, -25) at (59.8279, 11.9005, -25) at (33.8898, -50.7196, -25) direction (0, 0, 1) diameter 2.5 end through all
hole "Bohrung4" at (-50.0209, -9.9498, -25) at (9.9498, 50.0209, -25) at (42.4056, -28.3345, -25) direction (0, 0, 1) diameter 6 end through all
equation "\"d5\" = Aussenradius"
equation "\"d6\" = RadiusLoecher"
equation "\"d4\" = Innenradius"
equation "\"d8\" = m3"
equation "\"d17\" = Stufenhöhe"
equation "\"d19\" = Innenradius"
equation "\"d21\" = RadiusLoecher"
equation "\"d20\" = Aussenradius"
equation "\"d22\" = m3Kopf"
equation "\"d27\" = MinimalabstandKuehlung"
equation "\"d28\" = MinimalabstandKuehlung"
equation "\"d29\" = InnenradiusOberhalbSchrauben"
equation "\"Innenradius\" = 94"
equation "\"Aussenradius\" = 112"
equation "\"m3\" = 3.5"
equation "\"Stufenhöhe\" = 7"
equation "\"RadiusLoecher\" = 104"
equation "\"m3Kopf\" = 6"
equation "\"MinimalabstandKuehlung\" = 7"
equation "\"InnenradiusOberhalbSchrauben\" = 98"
equation "\"ExtrusionOberhalbSchrauben\" = 5"
equation "\"Plateaudurchmesser\" = 10"
equation "\"Verbindung_d2\" = 8"
equation "\"Plateauhoehe\" = 18"
equation "\"Verbindung_d1\" = 3"
equation "\"Verbindung_d2_tiefe\" = 15"
equation "\"Verbindung_d1_tiefe\" = 15"
equation "\"ExtrusionHoehenfixierung\" = 5"
equation "\"HoehenfixierungTiefe\" = 20"
equation "\"d85\" = 98"
equation "\"d86\" = 112"
equation "\"d87\" = 104"
equation "\"d88\" = 5"
equation "\"d89\" = 7"
equation "\"d90\" = 98"
equation "\"d91\" = 5"
equation "\"d92\" = 10"
equation "\"HoehenfixierungGewinde\" = 2.5"
properties part number "01" material "Edelstahl"
